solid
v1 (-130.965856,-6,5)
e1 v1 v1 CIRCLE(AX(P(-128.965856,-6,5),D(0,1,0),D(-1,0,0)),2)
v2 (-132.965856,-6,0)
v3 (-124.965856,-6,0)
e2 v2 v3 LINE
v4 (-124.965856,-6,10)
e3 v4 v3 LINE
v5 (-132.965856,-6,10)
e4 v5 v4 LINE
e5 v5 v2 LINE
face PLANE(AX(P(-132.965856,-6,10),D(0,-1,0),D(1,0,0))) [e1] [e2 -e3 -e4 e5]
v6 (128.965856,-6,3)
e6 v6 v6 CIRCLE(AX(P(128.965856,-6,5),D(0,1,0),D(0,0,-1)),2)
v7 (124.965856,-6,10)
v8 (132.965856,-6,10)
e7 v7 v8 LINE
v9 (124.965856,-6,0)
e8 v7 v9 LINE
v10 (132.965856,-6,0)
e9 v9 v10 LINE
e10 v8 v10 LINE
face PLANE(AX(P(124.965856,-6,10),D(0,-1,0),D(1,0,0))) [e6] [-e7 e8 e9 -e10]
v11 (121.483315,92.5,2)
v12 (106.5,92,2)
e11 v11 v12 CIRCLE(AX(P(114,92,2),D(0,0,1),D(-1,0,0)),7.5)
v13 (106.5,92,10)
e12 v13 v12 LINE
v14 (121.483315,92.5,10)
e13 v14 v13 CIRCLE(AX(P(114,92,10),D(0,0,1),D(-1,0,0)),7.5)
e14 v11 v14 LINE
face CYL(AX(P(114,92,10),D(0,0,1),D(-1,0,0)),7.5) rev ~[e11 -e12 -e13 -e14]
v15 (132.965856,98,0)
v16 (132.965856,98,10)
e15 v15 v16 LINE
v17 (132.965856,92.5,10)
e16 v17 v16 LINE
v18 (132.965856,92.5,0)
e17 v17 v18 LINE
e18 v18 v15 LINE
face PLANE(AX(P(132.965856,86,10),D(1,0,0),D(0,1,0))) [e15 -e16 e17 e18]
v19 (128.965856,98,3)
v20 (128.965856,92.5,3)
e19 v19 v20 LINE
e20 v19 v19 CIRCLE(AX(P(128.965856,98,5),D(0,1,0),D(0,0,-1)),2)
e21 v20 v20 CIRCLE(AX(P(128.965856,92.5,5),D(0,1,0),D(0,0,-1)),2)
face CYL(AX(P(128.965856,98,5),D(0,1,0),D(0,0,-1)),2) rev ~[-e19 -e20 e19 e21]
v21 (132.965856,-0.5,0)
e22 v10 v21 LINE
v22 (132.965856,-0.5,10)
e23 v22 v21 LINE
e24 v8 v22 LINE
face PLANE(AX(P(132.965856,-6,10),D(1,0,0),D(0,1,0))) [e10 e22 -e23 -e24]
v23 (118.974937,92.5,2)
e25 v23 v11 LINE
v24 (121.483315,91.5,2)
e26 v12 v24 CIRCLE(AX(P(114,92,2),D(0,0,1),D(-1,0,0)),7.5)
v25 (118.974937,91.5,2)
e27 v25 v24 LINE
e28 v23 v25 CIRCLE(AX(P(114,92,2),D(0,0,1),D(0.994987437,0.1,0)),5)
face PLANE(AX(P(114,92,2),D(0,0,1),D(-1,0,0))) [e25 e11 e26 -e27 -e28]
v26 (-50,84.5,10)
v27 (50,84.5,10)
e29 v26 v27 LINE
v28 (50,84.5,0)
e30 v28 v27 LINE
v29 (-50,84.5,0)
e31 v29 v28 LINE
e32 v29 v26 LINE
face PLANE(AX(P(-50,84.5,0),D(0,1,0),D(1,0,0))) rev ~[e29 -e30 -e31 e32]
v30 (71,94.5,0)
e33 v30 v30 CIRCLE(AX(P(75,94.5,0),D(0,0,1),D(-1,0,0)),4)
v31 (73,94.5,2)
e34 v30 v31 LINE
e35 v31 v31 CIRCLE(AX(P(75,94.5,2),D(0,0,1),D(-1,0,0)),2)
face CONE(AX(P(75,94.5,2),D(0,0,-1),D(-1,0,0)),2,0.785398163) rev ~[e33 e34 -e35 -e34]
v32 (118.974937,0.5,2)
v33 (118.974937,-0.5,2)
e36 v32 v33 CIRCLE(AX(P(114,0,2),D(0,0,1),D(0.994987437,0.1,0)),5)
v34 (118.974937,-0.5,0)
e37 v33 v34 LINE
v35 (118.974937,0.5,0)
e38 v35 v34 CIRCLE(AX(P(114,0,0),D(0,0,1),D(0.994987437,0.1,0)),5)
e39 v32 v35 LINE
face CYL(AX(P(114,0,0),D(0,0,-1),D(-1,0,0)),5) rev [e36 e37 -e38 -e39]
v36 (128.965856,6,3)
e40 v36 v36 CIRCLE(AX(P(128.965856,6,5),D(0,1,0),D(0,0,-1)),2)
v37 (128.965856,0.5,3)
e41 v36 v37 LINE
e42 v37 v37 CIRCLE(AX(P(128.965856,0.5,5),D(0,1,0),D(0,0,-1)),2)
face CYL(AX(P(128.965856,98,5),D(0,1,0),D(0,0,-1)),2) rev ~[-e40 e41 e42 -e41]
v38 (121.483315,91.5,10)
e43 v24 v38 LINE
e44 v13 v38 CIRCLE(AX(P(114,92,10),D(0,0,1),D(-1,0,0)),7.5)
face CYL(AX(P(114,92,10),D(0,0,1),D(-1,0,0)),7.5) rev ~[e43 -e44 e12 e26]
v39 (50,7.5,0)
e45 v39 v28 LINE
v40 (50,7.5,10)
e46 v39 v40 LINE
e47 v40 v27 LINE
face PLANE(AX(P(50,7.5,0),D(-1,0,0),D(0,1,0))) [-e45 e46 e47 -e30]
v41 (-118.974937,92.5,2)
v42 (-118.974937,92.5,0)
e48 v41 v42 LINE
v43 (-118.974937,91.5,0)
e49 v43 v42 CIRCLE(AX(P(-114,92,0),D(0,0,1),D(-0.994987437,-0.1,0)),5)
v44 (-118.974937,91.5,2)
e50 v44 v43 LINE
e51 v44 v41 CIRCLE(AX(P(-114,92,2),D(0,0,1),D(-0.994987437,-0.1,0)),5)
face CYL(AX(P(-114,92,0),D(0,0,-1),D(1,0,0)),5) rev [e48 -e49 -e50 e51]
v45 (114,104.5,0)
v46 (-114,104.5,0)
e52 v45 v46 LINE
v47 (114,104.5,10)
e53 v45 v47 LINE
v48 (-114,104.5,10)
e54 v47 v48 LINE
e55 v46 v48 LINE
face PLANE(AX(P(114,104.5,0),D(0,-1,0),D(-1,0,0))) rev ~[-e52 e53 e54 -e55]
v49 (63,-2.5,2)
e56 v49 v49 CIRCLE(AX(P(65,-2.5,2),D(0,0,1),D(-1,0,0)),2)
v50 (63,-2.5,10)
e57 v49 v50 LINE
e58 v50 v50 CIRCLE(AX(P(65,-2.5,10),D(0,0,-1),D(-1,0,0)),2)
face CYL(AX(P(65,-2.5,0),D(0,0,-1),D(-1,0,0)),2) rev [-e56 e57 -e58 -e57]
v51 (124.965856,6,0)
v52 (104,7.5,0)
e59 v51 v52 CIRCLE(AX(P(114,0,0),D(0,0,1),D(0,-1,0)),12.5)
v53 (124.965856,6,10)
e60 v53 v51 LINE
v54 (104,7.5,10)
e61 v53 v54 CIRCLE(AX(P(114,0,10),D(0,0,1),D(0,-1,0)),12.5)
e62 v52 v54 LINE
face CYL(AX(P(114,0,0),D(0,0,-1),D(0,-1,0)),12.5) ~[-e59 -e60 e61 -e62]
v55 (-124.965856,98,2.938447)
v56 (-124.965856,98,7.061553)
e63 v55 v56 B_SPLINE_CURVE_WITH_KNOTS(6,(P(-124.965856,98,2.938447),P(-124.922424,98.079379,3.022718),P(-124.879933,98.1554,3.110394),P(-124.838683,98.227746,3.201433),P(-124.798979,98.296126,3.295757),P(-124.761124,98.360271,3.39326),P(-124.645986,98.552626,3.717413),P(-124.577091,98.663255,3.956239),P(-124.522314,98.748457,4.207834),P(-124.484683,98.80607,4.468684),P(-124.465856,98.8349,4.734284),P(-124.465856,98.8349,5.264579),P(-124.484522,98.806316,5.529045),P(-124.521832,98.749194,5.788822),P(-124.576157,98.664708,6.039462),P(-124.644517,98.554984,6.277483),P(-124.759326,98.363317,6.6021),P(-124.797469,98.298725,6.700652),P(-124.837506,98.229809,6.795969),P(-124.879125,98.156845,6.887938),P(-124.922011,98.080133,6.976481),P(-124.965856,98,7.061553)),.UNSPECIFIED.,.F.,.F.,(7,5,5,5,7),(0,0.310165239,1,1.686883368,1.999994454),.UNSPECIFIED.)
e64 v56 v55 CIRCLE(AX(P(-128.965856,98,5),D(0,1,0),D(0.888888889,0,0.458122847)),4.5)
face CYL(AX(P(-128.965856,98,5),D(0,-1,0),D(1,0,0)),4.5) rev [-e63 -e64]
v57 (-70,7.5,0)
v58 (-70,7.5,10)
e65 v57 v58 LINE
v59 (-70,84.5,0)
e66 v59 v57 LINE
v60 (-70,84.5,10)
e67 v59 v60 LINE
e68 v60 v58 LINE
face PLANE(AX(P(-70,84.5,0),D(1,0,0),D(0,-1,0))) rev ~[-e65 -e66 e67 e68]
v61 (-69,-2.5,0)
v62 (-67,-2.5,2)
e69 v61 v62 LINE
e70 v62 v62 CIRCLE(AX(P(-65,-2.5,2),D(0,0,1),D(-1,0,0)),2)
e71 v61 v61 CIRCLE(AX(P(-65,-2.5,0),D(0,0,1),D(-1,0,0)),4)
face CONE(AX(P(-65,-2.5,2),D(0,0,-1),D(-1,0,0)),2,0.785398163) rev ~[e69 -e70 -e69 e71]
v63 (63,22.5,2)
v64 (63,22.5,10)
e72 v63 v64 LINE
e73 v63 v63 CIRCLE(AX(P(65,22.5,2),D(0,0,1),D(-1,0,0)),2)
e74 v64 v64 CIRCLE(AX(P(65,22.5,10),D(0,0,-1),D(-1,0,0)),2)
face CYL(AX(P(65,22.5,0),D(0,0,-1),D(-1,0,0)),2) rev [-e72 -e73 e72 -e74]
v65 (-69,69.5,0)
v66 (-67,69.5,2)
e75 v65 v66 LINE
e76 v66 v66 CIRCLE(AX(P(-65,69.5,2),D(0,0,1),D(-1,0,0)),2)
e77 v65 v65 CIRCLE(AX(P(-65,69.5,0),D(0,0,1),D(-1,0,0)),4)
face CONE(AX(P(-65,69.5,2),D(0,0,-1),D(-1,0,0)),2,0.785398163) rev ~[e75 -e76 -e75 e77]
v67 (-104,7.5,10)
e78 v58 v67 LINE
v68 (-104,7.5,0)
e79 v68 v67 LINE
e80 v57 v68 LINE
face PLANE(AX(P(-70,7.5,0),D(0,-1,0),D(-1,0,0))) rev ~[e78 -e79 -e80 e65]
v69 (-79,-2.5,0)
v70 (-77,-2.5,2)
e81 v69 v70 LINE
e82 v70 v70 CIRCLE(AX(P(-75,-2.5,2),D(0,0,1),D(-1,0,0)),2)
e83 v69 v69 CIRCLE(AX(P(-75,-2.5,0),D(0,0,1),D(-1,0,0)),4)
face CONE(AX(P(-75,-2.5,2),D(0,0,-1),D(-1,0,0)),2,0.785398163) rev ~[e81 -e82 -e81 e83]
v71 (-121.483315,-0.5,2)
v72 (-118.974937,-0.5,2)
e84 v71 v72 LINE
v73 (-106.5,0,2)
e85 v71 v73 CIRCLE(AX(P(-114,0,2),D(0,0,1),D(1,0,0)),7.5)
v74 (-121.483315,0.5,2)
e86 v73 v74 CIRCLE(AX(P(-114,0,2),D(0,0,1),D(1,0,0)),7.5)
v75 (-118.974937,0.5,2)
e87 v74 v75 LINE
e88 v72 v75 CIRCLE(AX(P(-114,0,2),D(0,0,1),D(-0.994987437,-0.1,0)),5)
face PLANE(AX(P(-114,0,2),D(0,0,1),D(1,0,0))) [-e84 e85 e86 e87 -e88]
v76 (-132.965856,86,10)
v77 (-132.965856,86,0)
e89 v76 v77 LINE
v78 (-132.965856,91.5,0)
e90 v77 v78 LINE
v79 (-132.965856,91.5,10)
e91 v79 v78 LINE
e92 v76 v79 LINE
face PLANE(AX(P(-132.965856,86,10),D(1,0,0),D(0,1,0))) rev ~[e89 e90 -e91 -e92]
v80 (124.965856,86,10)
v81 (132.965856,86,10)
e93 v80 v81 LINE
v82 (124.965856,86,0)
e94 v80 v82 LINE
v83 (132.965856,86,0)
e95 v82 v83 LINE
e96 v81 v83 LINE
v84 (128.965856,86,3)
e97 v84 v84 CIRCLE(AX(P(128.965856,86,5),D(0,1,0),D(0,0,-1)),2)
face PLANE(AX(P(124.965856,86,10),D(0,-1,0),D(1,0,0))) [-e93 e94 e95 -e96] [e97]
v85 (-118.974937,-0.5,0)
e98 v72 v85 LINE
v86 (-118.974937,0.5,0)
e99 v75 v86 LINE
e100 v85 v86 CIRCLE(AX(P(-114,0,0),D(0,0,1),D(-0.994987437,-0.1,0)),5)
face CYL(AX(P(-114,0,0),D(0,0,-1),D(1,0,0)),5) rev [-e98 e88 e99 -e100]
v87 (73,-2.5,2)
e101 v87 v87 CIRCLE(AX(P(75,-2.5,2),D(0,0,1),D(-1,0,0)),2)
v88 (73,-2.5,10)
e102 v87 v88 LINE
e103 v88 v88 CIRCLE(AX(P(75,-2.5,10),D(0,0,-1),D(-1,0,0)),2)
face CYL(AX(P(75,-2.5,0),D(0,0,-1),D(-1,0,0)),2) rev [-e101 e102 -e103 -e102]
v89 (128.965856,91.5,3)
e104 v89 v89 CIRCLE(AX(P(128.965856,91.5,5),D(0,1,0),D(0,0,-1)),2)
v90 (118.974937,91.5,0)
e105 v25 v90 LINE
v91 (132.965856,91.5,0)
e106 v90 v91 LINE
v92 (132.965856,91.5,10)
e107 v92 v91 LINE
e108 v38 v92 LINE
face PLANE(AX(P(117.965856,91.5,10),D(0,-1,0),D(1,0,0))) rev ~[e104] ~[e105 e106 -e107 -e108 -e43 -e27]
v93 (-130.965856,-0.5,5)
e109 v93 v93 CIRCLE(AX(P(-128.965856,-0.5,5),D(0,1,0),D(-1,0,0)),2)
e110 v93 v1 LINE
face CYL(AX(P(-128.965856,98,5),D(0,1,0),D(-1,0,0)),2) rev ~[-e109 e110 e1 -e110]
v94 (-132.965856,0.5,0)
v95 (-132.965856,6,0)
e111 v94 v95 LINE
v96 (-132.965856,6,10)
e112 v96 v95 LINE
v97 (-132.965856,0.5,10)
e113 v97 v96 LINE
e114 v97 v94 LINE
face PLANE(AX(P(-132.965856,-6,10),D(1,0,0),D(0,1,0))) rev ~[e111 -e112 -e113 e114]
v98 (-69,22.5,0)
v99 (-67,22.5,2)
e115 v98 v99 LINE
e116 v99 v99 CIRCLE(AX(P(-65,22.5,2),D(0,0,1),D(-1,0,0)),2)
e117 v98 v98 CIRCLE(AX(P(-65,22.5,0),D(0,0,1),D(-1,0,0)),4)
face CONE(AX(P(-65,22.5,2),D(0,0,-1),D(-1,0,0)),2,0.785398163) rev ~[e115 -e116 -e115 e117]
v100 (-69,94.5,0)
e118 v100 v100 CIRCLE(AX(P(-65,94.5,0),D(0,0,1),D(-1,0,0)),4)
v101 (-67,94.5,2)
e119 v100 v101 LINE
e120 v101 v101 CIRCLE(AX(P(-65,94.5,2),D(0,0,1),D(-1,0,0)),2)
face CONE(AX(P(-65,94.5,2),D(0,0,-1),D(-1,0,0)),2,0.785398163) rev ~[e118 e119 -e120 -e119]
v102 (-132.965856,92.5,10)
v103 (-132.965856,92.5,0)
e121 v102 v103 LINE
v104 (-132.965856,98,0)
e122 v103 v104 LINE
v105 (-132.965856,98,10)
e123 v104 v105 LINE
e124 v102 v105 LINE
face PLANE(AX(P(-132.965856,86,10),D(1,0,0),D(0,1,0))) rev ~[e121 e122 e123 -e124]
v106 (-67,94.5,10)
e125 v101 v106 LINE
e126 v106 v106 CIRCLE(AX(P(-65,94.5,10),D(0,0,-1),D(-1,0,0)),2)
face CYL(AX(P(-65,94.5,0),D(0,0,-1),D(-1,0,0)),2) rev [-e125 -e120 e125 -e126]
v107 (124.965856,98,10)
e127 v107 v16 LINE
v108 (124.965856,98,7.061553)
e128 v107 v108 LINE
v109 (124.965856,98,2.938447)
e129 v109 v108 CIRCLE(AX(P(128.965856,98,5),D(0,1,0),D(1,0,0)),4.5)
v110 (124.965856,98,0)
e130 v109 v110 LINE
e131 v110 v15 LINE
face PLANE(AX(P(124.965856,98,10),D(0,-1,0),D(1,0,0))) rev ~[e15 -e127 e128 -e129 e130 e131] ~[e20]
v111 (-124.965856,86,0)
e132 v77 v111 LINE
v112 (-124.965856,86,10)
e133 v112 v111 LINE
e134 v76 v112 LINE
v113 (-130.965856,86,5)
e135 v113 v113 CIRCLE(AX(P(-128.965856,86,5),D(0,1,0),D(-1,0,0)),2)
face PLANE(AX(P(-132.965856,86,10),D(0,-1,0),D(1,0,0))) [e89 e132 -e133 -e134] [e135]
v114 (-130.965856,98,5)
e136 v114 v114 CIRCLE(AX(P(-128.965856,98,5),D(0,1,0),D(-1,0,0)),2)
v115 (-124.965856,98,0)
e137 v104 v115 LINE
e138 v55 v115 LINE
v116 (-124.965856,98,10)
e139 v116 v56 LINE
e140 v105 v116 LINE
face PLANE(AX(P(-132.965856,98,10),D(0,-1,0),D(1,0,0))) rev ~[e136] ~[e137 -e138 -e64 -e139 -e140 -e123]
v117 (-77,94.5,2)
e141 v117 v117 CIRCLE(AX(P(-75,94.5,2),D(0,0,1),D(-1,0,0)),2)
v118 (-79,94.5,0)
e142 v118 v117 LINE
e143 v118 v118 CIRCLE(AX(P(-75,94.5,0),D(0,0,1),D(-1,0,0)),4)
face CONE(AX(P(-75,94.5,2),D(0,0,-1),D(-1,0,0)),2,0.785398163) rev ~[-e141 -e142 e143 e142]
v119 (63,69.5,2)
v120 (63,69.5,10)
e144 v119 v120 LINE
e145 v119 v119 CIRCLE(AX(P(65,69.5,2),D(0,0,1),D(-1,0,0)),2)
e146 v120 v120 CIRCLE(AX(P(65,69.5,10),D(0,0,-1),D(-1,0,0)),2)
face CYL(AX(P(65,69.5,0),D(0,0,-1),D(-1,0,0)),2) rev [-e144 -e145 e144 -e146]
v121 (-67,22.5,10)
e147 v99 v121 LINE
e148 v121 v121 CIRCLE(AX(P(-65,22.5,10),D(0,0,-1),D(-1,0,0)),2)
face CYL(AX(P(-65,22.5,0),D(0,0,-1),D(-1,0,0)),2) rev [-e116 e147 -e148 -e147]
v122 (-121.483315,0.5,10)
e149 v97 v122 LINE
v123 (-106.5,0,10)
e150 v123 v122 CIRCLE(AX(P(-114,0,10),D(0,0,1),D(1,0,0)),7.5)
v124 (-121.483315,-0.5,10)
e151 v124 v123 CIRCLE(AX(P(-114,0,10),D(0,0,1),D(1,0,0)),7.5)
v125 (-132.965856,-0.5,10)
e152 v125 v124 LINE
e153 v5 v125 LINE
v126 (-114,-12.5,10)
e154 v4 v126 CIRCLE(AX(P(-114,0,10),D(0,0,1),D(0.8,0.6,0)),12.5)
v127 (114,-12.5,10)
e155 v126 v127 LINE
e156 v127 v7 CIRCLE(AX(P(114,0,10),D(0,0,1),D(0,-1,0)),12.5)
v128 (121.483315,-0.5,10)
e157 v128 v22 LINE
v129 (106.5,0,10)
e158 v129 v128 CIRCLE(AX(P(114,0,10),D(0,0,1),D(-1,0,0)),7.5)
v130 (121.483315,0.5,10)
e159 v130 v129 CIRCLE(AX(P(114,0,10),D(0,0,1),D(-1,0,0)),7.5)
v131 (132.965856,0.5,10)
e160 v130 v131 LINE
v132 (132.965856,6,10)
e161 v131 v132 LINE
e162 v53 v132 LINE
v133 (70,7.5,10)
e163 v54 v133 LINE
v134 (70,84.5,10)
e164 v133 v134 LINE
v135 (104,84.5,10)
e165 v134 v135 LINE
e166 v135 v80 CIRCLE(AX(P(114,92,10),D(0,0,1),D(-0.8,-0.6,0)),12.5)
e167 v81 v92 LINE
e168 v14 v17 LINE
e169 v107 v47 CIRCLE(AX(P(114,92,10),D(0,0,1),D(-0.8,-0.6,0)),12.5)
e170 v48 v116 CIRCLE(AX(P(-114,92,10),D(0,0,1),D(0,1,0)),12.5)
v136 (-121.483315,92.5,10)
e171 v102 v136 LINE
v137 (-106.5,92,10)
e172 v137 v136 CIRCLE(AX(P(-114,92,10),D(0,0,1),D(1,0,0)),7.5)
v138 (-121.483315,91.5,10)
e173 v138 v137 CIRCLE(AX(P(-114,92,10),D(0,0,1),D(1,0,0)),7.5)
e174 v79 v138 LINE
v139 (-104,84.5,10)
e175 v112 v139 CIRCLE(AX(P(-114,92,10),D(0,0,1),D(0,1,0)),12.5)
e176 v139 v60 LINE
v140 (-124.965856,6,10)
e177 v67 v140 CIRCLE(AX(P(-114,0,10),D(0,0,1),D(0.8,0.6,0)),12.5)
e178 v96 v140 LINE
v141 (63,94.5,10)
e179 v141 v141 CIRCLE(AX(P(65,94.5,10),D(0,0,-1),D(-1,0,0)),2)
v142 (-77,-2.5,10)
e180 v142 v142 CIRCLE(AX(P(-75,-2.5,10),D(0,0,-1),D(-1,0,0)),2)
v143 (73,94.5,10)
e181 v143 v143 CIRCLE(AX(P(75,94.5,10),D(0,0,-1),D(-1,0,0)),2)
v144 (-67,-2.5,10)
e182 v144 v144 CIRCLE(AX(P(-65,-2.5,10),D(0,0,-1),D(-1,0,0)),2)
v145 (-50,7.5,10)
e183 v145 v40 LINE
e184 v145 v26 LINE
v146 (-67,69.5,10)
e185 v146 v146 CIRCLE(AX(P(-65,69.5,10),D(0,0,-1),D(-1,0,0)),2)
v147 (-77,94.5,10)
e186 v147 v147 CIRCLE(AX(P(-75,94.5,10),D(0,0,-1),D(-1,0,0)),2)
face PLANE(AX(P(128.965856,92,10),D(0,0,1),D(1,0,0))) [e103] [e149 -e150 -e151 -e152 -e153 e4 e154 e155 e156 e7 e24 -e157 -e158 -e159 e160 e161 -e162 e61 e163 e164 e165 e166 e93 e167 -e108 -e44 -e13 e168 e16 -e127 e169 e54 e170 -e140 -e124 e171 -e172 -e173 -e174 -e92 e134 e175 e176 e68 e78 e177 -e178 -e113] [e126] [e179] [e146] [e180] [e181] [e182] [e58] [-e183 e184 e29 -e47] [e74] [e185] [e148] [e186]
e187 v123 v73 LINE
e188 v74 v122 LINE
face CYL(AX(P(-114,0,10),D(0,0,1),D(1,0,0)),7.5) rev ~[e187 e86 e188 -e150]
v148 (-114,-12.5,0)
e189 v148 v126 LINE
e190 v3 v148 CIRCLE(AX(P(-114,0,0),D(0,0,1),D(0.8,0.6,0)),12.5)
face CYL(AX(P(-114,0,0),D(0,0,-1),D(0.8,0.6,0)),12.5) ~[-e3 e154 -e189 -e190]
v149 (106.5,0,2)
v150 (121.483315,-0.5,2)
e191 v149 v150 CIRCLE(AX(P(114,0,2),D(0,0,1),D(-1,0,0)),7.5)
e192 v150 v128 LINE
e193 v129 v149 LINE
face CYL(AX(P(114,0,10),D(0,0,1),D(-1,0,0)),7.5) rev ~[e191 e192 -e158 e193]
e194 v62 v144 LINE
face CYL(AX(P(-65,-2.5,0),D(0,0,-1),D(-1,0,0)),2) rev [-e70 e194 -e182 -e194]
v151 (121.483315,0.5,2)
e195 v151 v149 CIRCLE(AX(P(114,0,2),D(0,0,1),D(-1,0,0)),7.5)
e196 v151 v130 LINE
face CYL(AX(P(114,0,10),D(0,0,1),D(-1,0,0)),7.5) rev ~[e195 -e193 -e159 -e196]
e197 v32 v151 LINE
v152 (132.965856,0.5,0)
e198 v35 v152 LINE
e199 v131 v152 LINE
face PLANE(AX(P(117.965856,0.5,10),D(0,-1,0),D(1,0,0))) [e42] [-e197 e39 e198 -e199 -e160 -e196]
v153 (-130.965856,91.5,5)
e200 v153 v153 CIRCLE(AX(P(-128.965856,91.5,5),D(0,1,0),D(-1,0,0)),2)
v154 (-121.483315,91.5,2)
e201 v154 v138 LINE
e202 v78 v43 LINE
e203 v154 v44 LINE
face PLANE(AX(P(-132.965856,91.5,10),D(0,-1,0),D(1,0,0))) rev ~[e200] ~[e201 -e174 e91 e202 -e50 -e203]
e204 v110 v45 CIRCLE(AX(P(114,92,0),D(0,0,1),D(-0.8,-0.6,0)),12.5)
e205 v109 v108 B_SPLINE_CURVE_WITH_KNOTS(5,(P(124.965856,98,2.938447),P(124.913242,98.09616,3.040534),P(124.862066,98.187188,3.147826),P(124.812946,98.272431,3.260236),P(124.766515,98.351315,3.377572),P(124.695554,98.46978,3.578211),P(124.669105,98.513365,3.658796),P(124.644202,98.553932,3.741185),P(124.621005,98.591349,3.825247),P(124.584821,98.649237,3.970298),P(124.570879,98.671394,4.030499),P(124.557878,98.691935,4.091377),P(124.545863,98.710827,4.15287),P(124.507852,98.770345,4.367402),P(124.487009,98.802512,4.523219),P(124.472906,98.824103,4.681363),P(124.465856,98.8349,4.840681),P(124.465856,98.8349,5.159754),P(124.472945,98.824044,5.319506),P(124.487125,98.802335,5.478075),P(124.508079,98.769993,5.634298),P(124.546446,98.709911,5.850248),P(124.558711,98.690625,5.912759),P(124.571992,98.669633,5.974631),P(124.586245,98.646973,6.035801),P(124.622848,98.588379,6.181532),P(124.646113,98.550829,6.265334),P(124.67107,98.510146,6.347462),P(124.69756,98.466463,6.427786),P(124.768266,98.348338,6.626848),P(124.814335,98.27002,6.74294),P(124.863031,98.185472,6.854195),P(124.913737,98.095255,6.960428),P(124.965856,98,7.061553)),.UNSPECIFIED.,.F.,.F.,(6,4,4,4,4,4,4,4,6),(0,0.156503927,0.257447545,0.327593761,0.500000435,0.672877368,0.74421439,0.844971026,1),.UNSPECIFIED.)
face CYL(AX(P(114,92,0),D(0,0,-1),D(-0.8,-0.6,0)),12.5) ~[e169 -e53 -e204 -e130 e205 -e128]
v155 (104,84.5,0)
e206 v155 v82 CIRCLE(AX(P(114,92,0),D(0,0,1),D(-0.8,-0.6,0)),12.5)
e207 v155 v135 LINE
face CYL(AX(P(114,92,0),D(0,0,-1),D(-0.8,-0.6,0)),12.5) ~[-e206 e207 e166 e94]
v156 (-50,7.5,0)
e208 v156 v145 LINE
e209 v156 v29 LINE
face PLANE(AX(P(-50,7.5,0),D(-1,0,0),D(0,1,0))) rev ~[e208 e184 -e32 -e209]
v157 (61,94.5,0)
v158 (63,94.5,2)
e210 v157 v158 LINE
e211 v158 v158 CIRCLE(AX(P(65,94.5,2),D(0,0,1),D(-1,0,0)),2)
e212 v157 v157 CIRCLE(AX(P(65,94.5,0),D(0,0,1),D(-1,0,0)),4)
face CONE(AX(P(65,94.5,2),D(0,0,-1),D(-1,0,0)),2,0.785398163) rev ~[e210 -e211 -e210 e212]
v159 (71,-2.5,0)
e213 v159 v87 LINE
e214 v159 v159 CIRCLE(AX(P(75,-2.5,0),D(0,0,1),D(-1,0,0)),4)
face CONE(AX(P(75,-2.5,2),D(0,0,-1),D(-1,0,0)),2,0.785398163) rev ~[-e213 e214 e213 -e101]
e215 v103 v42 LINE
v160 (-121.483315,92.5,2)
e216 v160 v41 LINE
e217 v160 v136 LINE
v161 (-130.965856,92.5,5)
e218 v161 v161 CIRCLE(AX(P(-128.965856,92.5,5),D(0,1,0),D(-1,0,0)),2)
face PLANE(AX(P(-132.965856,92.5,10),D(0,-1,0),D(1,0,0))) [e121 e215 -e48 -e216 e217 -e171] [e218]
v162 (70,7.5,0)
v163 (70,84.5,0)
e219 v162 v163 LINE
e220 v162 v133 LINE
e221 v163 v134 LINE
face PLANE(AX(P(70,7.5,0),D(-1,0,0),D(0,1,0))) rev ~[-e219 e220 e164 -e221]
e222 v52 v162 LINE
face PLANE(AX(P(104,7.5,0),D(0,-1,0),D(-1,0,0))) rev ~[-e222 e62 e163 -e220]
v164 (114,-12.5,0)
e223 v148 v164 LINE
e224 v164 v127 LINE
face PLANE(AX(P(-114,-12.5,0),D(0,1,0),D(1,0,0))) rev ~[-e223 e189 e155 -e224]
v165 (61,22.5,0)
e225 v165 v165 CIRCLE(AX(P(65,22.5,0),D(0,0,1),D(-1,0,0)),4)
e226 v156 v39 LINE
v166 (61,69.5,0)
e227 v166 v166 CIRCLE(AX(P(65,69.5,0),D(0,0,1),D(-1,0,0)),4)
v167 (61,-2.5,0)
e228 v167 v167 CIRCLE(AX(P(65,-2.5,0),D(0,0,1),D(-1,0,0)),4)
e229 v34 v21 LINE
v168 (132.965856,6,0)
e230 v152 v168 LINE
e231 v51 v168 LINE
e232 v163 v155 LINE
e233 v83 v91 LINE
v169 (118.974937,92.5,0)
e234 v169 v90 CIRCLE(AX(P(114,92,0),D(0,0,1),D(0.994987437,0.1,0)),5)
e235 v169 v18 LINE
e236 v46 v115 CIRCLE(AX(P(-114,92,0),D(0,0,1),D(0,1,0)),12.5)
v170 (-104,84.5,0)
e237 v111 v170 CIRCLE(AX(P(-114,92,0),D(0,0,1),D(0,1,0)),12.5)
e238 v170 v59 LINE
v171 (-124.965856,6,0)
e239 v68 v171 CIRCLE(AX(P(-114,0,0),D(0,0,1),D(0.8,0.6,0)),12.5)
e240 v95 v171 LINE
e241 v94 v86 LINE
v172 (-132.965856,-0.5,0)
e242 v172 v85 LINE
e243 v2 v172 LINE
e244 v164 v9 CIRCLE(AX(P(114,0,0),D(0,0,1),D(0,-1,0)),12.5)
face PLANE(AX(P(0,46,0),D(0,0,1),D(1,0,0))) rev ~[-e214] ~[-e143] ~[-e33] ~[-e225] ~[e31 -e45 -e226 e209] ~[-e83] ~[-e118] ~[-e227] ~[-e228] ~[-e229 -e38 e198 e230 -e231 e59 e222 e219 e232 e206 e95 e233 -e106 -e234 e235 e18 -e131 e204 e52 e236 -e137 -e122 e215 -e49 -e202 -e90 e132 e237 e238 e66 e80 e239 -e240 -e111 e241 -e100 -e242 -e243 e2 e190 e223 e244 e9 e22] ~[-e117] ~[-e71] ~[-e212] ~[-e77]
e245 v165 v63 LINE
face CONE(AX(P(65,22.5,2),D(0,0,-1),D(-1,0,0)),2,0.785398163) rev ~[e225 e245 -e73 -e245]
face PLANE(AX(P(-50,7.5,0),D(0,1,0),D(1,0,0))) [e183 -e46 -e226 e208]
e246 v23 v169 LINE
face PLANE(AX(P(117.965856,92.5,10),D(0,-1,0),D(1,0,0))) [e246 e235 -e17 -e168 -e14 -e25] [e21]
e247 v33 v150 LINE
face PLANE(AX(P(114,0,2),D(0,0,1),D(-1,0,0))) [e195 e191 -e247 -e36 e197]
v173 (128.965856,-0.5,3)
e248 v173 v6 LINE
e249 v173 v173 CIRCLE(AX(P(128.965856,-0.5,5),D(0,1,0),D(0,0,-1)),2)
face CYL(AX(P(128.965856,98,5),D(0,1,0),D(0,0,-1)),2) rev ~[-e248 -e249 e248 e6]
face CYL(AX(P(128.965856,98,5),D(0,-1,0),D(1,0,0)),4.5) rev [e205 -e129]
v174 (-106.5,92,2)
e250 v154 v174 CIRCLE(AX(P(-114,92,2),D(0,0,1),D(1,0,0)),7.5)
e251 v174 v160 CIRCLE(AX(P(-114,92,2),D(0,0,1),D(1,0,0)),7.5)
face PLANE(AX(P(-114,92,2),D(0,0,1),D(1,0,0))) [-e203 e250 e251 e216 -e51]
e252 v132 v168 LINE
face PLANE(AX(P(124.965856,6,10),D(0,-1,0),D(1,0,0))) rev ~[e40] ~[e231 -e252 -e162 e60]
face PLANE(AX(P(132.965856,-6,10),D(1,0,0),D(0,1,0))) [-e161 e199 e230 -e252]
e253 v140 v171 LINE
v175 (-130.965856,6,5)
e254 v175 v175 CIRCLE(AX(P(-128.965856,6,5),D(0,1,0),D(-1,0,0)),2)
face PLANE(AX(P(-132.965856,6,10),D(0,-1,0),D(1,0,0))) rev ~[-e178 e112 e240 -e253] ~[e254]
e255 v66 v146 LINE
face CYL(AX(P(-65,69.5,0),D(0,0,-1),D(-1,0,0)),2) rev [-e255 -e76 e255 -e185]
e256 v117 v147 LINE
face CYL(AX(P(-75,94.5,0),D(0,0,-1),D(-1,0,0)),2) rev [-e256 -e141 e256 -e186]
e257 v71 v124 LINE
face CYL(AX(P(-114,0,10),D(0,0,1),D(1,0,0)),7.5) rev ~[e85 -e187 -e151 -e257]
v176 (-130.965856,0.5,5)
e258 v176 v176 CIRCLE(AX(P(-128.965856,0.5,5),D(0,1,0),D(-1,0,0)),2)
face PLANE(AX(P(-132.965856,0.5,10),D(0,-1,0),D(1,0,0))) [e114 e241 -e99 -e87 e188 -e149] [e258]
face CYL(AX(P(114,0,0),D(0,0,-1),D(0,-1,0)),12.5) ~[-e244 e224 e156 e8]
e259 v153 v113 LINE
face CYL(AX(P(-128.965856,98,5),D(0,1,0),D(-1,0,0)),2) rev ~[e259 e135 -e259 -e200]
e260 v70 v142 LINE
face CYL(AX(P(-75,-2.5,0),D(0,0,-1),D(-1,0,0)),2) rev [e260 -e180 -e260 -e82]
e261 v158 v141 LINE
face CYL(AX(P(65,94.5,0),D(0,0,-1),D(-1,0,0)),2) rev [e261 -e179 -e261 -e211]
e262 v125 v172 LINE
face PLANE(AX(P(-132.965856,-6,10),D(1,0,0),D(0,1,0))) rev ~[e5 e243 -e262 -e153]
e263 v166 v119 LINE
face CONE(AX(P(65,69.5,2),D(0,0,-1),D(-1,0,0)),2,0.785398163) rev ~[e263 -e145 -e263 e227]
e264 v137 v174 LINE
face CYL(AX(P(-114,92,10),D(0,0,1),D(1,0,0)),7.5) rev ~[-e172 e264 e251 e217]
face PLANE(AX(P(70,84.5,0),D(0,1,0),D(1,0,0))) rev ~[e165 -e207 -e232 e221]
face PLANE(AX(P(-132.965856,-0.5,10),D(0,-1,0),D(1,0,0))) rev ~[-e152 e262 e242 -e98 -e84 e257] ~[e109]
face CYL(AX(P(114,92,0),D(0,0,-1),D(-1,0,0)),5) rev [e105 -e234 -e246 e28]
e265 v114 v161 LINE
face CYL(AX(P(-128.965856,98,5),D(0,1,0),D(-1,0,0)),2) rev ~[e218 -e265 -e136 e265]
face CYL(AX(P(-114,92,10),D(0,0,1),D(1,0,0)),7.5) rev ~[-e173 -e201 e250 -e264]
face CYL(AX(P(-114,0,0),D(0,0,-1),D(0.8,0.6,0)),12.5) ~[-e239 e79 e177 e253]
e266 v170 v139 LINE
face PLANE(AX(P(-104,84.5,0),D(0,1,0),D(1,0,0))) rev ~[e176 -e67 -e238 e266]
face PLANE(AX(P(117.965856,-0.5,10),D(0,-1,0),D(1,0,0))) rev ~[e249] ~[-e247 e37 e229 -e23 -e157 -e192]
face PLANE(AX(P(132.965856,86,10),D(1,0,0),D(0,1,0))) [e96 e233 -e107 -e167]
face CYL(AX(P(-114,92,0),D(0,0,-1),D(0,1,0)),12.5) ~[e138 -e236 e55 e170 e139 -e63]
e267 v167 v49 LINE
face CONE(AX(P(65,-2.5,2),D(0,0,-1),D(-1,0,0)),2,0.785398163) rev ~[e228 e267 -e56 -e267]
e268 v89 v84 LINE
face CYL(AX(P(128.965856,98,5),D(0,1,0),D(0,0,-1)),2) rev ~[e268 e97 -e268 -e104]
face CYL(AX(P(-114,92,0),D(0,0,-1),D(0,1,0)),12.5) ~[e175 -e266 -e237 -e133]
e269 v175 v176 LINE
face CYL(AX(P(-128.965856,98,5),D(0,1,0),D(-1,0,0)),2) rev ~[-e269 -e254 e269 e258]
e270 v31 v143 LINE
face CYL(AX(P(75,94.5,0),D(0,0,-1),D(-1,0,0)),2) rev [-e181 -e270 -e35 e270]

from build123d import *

# Parameters (mm, degrees)
SKETCH_1_R          = 5
SKETCH_1_W          = 100
SKETCH_1_H          = 77
EXTRUDE_1_DEPTH     = 10
SKETCH_3_R          = 7.5
CUT_EXTRUDE_1_DEPTH = 8
CUT_EXTRUDE_2_REACH = 166.385
SKETCH_5_R          = 2
SKETCH_6_W          = 8
SKETCH_6_H          = 12
EXTRUDE_2_DEPTH     = 10
SKETCH_7_W          = 15
SKETCH_7_H          = 1
CUT_EXTRUDE_3_DEPTH = 170.411241918
SKETCH_8_R          = 2
CUT_EXTRUDE_4_DEPTH = 174.176698457
SKETCH_9_R          = 4.5
CUT_EXTRUDE_5_DEPTH = 10
CHAMFER_1_SIZE      = 2


with BuildPart() as part:
    # 草图1 → 凸台-拉伸1 (new body)
    with BuildSketch(Plane.XY):
        with BuildLine():
            Line((-104, 84.5), (-70, 84.5))
            Line((-70, 84.5), (-70, 7.5))
            Line((-70, 7.5), (-104, 7.5))
            ThreePointArc((-104, 7.5), (-125.180339887, 5.590169944), (-114, -12.5))
            Line((-114, -12.5), (114, -12.5))
            ThreePointArc((114, -12.5), (125.180339887, 5.590169944), (104, 7.5))
            Line((104, 7.5), (70, 7.5))
            Line((70, 7.5), (70, 84.5))
            Line((70, 84.5), (104, 84.5))
            ThreePointArc((104, 84.5), (125.180339887, 86.409830056), (114, 104.5))
            Line((114, 104.5), (64, 104.5))
            Line((64, 104.5), (-64, 104.5))
            Line((-64, 104.5), (-114, 104.5))
            ThreePointArc((-114, 104.5), (-125.180339887, 86.409830056), (-104, 84.5))
        make_face()
        with Locations((-114, 0)):
            Circle(SKETCH_1_R, mode=Mode.SUBTRACT)
        with Locations((-114, 92)):
            Circle(SKETCH_1_R, mode=Mode.SUBTRACT)
        with Locations(Location((114, 92, 0), (0, 0, 180))):
            Circle(SKETCH_1_R, mode=Mode.SUBTRACT)
        with Locations(Location((114, 0, 0), (0, 0, 180))):
            Circle(SKETCH_1_R, mode=Mode.SUBTRACT)
        with Locations((0, 46)):
            Rectangle(SKETCH_1_W, SKETCH_1_H, mode=Mode.SUBTRACT)
    extrude(amount=EXTRUDE_1_DEPTH)

    # 草图3 → 切除-拉伸1 (cut)
    with BuildSketch(Plane.XY.offset(10)):
        with Locations((-114, 92)):
            Circle(SKETCH_3_R)
        with Locations((-114, 0)):
            Circle(SKETCH_3_R)
        with Locations(Location((114, 0, 0), (0, 0, 180))):
            Circle(SKETCH_3_R)
        with Locations(Location((114, 92, 0), (0, 0, 180))):
            Circle(SKETCH_3_R)
    extrude(amount=-CUT_EXTRUDE_1_DEPTH, mode=Mode.SUBTRACT)

    # 草图5 → 切除-拉伸2 (cut, up to next)
    with BuildSketch(Plane.XY, mode=Mode.PRIVATE) as cut_extrude_2_sk1:
        with Locations(Location((-65, 94.5, 0), (0, 0, 180))):
            Circle(SKETCH_5_R)
    cut_extrude_2_tool1 = extrude(cut_extrude_2_sk1.sketch, amount=CUT_EXTRUDE_2_REACH, mode=Mode.PRIVATE) & part.part
    # 草图5 → 切除-拉伸2 (cut, up to next)
    with BuildSketch(Plane.XY, mode=Mode.PRIVATE) as cut_extrude_2_sk2:
        with Locations(Location((-75, 94.5, 0), (0, 0, 180))):
            Circle(SKETCH_5_R)
    cut_extrude_2_tool2 = extrude(cut_extrude_2_sk2.sketch, amount=CUT_EXTRUDE_2_REACH, mode=Mode.PRIVATE) & part.part
    # 草图5 → 切除-拉伸2 (cut, up to next)
    with BuildSketch(Plane.XY, mode=Mode.PRIVATE) as cut_extrude_2_sk3:
        with Locations(Location((-65, 69.5, 0), (0, 0, 180))):
            Circle(SKETCH_5_R)
    cut_extrude_2_tool3 = extrude(cut_extrude_2_sk3.sketch, amount=CUT_EXTRUDE_2_REACH, mode=Mode.PRIVATE) & part.part
    # 草图5 → 切除-拉伸2 (cut, up to next)
    with BuildSketch(Plane.XY, mode=Mode.PRIVATE) as cut_extrude_2_sk4:
        with Locations(Location((-65, 22.5, 0), (0, 0, 180))):
            Circle(SKETCH_5_R)
    cut_extrude_2_tool4 = extrude(cut_extrude_2_sk4.sketch, amount=CUT_EXTRUDE_2_REACH, mode=Mode.PRIVATE) & part.part
    # 草图5 → 切除-拉伸2 (cut, up to next)
    with BuildSketch(Plane.XY, mode=Mode.PRIVATE) as cut_extrude_2_sk5:
        with Locations(Location((-65, -2.5, 0), (0, 0, 180))):
            Circle(SKETCH_5_R)
    cut_extrude_2_tool5 = extrude(cut_extrude_2_sk5.sketch, amount=CUT_EXTRUDE_2_REACH, mode=Mode.PRIVATE) & part.part
    # 草图5 → 切除-拉伸2 (cut, up to next)
    with BuildSketch(Plane.XY, mode=Mode.PRIVATE) as cut_extrude_2_sk6:
        with Locations(Location((-75, -2.5, 0), (0, 0, 180))):
            Circle(SKETCH_5_R)
    cut_extrude_2_tool6 = extrude(cut_extrude_2_sk6.sketch, amount=CUT_EXTRUDE_2_REACH, mode=Mode.PRIVATE) & part.part
    # 草图5 → 切除-拉伸2 (cut, up to next)
    with BuildSketch(Plane.XY, mode=Mode.PRIVATE) as cut_extrude_2_sk7:
        with Locations(Location((75, -2.5, 0), (0, 0, 180))):
            Circle(SKETCH_5_R)
    cut_extrude_2_tool7 = extrude(cut_extrude_2_sk7.sketch, amount=CUT_EXTRUDE_2_REACH, mode=Mode.PRIVATE) & part.part
    # 草图5 → 切除-拉伸2 (cut, up to next)
    with BuildSketch(Plane.XY, mode=Mode.PRIVATE) as cut_extrude_2_sk8:
        with Locations(Location((65, -2.5, 0), (0, 0, 180))):
            Circle(SKETCH_5_R)
    cut_extrude_2_tool8 = extrude(cut_extrude_2_sk8.sketch, amount=CUT_EXTRUDE_2_REACH, mode=Mode.PRIVATE) & part.part
    # 草图5 → 切除-拉伸2 (cut, up to next)
    with BuildSketch(Plane.XY, mode=Mode.PRIVATE) as cut_extrude_2_sk9:
        with Locations(Location((65, 22.5, 0), (0, 0, 180))):
            Circle(SKETCH_5_R)
    cut_extrude_2_tool9 = extrude(cut_extrude_2_sk9.sketch, amount=CUT_EXTRUDE_2_REACH, mode=Mode.PRIVATE) & part.part
    # 草图5 → 切除-拉伸2 (cut, up to next)
    with BuildSketch(Plane.XY, mode=Mode.PRIVATE) as cut_extrude_2_sk10:
        with Locations(Location((65, 69.5, 0), (0, 0, 180))):
            Circle(SKETCH_5_R)
    cut_extrude_2_tool10 = extrude(cut_extrude_2_sk10.sketch, amount=CUT_EXTRUDE_2_REACH, mode=Mode.PRIVATE) & part.part
    # 草图5 → 切除-拉伸2 (cut, up to next)
    with BuildSketch(Plane.XY, mode=Mode.PRIVATE) as cut_extrude_2_sk11:
        with Locations(Location((75, 94.5, 0), (0, 0, 180))):
            Circle(SKETCH_5_R)
    cut_extrude_2_tool11 = extrude(cut_extrude_2_sk11.sketch, amount=CUT_EXTRUDE_2_REACH, mode=Mode.PRIVATE) & part.part
    # 草图5 → 切除-拉伸2 (cut, up to next)
    with BuildSketch(Plane.XY, mode=Mode.PRIVATE) as cut_extrude_2_sk12:
        with Locations(Location((65, 94.5, 0), (0, 0, 180))):
            Circle(SKETCH_5_R)
    cut_extrude_2_tool12 = extrude(cut_extrude_2_sk12.sketch, amount=CUT_EXTRUDE_2_REACH, mode=Mode.PRIVATE) & part.part
    add(cut_extrude_2_tool1.solids().sort_by_distance((-65, 94.5, 0))[0], mode=Mode.SUBTRACT)
    add(cut_extrude_2_tool2.solids().sort_by_distance((-75, 94.5, 0))[0], mode=Mode.SUBTRACT)
    add(cut_extrude_2_tool3.solids().sort_by_distance((-65, 69.5, 0))[0], mode=Mode.SUBTRACT)
    add(cut_extrude_2_tool4.solids().sort_by_distance((-65, 22.5, 0))[0], mode=Mode.SUBTRACT)
    add(cut_extrude_2_tool5.solids().sort_by_distance((-65, -2.5, 0))[0], mode=Mode.SUBTRACT)
    add(cut_extrude_2_tool6.solids().sort_by_distance((-75, -2.5, 0))[0], mode=Mode.SUBTRACT)
    add(cut_extrude_2_tool7.solids().sort_by_distance((75, -2.5, 0))[0], mode=Mode.SUBTRACT)
    add(cut_extrude_2_tool8.solids().sort_by_distance((65, -2.5, 0))[0], mode=Mode.SUBTRACT)
    add(cut_extrude_2_tool9.solids().sort_by_distance((65, 22.5, 0))[0], mode=Mode.SUBTRACT)
    add(cut_extrude_2_tool10.solids().sort_by_distance((65, 69.5, 0))[0], mode=Mode.SUBTRACT)
    add(cut_extrude_2_tool11.solids().sort_by_distance((75, 94.5, 0))[0], mode=Mode.SUBTRACT)
    add(cut_extrude_2_tool12.solids().sort_by_distance((65, 94.5, 0))[0], mode=Mode.SUBTRACT)

    # 草图6 → 凸台-拉伸2 (add)
    with BuildSketch(Plane.XY.offset(10)):
        with Locations((128.9658561, 92)):
            Rectangle(SKETCH_6_W, SKETCH_6_H)
        with Locations((128.9658561, 0)):
            Rectangle(SKETCH_6_W, SKETCH_6_H)
        with Locations((-128.9658561, 0)):
            Rectangle(SKETCH_6_W, SKETCH_6_H)
        with Locations((-128.9658561, 92)):
            Rectangle(SKETCH_6_W, SKETCH_6_H)
    extrude(amount=-EXTRUDE_2_DEPTH)

    # 草图7 → 切除-拉伸3 (cut, through all)
    with BuildSketch(Plane.XY.offset(10)):
        with Locations((125.4658561, 92)):
            Rectangle(SKETCH_7_W, SKETCH_7_H)
        with Locations((125.4658561, 0)):
            Rectangle(SKETCH_7_W, SKETCH_7_H)
        with Locations((-125.4658561, 0)):
            Rectangle(SKETCH_7_W, SKETCH_7_H)
        with Locations((-125.4658561, 92)):
            Rectangle(SKETCH_7_W, SKETCH_7_H)
    extrude(amount=-CUT_EXTRUDE_3_DEPTH, mode=Mode.SUBTRACT)

    # 草图8 → 切除-拉伸4 (cut, through all)
    with BuildSketch(Plane(origin=(0, 98, 0), x_dir=(1, 0, 0), z_dir=(0, 1, 0))):
        with Locations(Location((-128.9658561, -5, 0), (0, 0, 180))):
            Circle(SKETCH_8_R)
        with Locations(Location((128.9658561, -5, 0), (0, 0, 90))):
            Circle(SKETCH_8_R)
    extrude(amount=-CUT_EXTRUDE_4_DEPTH, mode=Mode.SUBTRACT)

    # 草图9 → 切除-拉伸5 (cut)
    with BuildSketch(Plane(origin=(0, 98, 0), x_dir=(1, 0, 0), z_dir=(0, 1, 0))):
        with Locations((-128.9658561, -5)):
            Circle(SKETCH_9_R)
        with Locations((128.9658561, -5)):
            Circle(SKETCH_9_R)
    extrude(amount=CUT_EXTRUDE_5_DEPTH, mode=Mode.SUBTRACT)

    # 倒角1
    chamfer_1_edges = [part.edges().sort_by_distance(p)[0] for p in [
        (-73, -2.5, 0),
        (77, -2.5, 0),
        (67, -2.5, 0),
        (67, 22.5, 0),
        (-63, -2.5, 0),
        (-63, 22.5, 0),
        (-63, 69.5, 0),
        (-73, 94.5, 0),
        (67, 94.5, 0),
        (77, 94.5, 0),
        (67, 69.5, 0),
        (-63, 94.5, 0),
    ]]
    chamfer(chamfer_1_edges, length=CHAMFER_1_SIZE)


solid = part.part
